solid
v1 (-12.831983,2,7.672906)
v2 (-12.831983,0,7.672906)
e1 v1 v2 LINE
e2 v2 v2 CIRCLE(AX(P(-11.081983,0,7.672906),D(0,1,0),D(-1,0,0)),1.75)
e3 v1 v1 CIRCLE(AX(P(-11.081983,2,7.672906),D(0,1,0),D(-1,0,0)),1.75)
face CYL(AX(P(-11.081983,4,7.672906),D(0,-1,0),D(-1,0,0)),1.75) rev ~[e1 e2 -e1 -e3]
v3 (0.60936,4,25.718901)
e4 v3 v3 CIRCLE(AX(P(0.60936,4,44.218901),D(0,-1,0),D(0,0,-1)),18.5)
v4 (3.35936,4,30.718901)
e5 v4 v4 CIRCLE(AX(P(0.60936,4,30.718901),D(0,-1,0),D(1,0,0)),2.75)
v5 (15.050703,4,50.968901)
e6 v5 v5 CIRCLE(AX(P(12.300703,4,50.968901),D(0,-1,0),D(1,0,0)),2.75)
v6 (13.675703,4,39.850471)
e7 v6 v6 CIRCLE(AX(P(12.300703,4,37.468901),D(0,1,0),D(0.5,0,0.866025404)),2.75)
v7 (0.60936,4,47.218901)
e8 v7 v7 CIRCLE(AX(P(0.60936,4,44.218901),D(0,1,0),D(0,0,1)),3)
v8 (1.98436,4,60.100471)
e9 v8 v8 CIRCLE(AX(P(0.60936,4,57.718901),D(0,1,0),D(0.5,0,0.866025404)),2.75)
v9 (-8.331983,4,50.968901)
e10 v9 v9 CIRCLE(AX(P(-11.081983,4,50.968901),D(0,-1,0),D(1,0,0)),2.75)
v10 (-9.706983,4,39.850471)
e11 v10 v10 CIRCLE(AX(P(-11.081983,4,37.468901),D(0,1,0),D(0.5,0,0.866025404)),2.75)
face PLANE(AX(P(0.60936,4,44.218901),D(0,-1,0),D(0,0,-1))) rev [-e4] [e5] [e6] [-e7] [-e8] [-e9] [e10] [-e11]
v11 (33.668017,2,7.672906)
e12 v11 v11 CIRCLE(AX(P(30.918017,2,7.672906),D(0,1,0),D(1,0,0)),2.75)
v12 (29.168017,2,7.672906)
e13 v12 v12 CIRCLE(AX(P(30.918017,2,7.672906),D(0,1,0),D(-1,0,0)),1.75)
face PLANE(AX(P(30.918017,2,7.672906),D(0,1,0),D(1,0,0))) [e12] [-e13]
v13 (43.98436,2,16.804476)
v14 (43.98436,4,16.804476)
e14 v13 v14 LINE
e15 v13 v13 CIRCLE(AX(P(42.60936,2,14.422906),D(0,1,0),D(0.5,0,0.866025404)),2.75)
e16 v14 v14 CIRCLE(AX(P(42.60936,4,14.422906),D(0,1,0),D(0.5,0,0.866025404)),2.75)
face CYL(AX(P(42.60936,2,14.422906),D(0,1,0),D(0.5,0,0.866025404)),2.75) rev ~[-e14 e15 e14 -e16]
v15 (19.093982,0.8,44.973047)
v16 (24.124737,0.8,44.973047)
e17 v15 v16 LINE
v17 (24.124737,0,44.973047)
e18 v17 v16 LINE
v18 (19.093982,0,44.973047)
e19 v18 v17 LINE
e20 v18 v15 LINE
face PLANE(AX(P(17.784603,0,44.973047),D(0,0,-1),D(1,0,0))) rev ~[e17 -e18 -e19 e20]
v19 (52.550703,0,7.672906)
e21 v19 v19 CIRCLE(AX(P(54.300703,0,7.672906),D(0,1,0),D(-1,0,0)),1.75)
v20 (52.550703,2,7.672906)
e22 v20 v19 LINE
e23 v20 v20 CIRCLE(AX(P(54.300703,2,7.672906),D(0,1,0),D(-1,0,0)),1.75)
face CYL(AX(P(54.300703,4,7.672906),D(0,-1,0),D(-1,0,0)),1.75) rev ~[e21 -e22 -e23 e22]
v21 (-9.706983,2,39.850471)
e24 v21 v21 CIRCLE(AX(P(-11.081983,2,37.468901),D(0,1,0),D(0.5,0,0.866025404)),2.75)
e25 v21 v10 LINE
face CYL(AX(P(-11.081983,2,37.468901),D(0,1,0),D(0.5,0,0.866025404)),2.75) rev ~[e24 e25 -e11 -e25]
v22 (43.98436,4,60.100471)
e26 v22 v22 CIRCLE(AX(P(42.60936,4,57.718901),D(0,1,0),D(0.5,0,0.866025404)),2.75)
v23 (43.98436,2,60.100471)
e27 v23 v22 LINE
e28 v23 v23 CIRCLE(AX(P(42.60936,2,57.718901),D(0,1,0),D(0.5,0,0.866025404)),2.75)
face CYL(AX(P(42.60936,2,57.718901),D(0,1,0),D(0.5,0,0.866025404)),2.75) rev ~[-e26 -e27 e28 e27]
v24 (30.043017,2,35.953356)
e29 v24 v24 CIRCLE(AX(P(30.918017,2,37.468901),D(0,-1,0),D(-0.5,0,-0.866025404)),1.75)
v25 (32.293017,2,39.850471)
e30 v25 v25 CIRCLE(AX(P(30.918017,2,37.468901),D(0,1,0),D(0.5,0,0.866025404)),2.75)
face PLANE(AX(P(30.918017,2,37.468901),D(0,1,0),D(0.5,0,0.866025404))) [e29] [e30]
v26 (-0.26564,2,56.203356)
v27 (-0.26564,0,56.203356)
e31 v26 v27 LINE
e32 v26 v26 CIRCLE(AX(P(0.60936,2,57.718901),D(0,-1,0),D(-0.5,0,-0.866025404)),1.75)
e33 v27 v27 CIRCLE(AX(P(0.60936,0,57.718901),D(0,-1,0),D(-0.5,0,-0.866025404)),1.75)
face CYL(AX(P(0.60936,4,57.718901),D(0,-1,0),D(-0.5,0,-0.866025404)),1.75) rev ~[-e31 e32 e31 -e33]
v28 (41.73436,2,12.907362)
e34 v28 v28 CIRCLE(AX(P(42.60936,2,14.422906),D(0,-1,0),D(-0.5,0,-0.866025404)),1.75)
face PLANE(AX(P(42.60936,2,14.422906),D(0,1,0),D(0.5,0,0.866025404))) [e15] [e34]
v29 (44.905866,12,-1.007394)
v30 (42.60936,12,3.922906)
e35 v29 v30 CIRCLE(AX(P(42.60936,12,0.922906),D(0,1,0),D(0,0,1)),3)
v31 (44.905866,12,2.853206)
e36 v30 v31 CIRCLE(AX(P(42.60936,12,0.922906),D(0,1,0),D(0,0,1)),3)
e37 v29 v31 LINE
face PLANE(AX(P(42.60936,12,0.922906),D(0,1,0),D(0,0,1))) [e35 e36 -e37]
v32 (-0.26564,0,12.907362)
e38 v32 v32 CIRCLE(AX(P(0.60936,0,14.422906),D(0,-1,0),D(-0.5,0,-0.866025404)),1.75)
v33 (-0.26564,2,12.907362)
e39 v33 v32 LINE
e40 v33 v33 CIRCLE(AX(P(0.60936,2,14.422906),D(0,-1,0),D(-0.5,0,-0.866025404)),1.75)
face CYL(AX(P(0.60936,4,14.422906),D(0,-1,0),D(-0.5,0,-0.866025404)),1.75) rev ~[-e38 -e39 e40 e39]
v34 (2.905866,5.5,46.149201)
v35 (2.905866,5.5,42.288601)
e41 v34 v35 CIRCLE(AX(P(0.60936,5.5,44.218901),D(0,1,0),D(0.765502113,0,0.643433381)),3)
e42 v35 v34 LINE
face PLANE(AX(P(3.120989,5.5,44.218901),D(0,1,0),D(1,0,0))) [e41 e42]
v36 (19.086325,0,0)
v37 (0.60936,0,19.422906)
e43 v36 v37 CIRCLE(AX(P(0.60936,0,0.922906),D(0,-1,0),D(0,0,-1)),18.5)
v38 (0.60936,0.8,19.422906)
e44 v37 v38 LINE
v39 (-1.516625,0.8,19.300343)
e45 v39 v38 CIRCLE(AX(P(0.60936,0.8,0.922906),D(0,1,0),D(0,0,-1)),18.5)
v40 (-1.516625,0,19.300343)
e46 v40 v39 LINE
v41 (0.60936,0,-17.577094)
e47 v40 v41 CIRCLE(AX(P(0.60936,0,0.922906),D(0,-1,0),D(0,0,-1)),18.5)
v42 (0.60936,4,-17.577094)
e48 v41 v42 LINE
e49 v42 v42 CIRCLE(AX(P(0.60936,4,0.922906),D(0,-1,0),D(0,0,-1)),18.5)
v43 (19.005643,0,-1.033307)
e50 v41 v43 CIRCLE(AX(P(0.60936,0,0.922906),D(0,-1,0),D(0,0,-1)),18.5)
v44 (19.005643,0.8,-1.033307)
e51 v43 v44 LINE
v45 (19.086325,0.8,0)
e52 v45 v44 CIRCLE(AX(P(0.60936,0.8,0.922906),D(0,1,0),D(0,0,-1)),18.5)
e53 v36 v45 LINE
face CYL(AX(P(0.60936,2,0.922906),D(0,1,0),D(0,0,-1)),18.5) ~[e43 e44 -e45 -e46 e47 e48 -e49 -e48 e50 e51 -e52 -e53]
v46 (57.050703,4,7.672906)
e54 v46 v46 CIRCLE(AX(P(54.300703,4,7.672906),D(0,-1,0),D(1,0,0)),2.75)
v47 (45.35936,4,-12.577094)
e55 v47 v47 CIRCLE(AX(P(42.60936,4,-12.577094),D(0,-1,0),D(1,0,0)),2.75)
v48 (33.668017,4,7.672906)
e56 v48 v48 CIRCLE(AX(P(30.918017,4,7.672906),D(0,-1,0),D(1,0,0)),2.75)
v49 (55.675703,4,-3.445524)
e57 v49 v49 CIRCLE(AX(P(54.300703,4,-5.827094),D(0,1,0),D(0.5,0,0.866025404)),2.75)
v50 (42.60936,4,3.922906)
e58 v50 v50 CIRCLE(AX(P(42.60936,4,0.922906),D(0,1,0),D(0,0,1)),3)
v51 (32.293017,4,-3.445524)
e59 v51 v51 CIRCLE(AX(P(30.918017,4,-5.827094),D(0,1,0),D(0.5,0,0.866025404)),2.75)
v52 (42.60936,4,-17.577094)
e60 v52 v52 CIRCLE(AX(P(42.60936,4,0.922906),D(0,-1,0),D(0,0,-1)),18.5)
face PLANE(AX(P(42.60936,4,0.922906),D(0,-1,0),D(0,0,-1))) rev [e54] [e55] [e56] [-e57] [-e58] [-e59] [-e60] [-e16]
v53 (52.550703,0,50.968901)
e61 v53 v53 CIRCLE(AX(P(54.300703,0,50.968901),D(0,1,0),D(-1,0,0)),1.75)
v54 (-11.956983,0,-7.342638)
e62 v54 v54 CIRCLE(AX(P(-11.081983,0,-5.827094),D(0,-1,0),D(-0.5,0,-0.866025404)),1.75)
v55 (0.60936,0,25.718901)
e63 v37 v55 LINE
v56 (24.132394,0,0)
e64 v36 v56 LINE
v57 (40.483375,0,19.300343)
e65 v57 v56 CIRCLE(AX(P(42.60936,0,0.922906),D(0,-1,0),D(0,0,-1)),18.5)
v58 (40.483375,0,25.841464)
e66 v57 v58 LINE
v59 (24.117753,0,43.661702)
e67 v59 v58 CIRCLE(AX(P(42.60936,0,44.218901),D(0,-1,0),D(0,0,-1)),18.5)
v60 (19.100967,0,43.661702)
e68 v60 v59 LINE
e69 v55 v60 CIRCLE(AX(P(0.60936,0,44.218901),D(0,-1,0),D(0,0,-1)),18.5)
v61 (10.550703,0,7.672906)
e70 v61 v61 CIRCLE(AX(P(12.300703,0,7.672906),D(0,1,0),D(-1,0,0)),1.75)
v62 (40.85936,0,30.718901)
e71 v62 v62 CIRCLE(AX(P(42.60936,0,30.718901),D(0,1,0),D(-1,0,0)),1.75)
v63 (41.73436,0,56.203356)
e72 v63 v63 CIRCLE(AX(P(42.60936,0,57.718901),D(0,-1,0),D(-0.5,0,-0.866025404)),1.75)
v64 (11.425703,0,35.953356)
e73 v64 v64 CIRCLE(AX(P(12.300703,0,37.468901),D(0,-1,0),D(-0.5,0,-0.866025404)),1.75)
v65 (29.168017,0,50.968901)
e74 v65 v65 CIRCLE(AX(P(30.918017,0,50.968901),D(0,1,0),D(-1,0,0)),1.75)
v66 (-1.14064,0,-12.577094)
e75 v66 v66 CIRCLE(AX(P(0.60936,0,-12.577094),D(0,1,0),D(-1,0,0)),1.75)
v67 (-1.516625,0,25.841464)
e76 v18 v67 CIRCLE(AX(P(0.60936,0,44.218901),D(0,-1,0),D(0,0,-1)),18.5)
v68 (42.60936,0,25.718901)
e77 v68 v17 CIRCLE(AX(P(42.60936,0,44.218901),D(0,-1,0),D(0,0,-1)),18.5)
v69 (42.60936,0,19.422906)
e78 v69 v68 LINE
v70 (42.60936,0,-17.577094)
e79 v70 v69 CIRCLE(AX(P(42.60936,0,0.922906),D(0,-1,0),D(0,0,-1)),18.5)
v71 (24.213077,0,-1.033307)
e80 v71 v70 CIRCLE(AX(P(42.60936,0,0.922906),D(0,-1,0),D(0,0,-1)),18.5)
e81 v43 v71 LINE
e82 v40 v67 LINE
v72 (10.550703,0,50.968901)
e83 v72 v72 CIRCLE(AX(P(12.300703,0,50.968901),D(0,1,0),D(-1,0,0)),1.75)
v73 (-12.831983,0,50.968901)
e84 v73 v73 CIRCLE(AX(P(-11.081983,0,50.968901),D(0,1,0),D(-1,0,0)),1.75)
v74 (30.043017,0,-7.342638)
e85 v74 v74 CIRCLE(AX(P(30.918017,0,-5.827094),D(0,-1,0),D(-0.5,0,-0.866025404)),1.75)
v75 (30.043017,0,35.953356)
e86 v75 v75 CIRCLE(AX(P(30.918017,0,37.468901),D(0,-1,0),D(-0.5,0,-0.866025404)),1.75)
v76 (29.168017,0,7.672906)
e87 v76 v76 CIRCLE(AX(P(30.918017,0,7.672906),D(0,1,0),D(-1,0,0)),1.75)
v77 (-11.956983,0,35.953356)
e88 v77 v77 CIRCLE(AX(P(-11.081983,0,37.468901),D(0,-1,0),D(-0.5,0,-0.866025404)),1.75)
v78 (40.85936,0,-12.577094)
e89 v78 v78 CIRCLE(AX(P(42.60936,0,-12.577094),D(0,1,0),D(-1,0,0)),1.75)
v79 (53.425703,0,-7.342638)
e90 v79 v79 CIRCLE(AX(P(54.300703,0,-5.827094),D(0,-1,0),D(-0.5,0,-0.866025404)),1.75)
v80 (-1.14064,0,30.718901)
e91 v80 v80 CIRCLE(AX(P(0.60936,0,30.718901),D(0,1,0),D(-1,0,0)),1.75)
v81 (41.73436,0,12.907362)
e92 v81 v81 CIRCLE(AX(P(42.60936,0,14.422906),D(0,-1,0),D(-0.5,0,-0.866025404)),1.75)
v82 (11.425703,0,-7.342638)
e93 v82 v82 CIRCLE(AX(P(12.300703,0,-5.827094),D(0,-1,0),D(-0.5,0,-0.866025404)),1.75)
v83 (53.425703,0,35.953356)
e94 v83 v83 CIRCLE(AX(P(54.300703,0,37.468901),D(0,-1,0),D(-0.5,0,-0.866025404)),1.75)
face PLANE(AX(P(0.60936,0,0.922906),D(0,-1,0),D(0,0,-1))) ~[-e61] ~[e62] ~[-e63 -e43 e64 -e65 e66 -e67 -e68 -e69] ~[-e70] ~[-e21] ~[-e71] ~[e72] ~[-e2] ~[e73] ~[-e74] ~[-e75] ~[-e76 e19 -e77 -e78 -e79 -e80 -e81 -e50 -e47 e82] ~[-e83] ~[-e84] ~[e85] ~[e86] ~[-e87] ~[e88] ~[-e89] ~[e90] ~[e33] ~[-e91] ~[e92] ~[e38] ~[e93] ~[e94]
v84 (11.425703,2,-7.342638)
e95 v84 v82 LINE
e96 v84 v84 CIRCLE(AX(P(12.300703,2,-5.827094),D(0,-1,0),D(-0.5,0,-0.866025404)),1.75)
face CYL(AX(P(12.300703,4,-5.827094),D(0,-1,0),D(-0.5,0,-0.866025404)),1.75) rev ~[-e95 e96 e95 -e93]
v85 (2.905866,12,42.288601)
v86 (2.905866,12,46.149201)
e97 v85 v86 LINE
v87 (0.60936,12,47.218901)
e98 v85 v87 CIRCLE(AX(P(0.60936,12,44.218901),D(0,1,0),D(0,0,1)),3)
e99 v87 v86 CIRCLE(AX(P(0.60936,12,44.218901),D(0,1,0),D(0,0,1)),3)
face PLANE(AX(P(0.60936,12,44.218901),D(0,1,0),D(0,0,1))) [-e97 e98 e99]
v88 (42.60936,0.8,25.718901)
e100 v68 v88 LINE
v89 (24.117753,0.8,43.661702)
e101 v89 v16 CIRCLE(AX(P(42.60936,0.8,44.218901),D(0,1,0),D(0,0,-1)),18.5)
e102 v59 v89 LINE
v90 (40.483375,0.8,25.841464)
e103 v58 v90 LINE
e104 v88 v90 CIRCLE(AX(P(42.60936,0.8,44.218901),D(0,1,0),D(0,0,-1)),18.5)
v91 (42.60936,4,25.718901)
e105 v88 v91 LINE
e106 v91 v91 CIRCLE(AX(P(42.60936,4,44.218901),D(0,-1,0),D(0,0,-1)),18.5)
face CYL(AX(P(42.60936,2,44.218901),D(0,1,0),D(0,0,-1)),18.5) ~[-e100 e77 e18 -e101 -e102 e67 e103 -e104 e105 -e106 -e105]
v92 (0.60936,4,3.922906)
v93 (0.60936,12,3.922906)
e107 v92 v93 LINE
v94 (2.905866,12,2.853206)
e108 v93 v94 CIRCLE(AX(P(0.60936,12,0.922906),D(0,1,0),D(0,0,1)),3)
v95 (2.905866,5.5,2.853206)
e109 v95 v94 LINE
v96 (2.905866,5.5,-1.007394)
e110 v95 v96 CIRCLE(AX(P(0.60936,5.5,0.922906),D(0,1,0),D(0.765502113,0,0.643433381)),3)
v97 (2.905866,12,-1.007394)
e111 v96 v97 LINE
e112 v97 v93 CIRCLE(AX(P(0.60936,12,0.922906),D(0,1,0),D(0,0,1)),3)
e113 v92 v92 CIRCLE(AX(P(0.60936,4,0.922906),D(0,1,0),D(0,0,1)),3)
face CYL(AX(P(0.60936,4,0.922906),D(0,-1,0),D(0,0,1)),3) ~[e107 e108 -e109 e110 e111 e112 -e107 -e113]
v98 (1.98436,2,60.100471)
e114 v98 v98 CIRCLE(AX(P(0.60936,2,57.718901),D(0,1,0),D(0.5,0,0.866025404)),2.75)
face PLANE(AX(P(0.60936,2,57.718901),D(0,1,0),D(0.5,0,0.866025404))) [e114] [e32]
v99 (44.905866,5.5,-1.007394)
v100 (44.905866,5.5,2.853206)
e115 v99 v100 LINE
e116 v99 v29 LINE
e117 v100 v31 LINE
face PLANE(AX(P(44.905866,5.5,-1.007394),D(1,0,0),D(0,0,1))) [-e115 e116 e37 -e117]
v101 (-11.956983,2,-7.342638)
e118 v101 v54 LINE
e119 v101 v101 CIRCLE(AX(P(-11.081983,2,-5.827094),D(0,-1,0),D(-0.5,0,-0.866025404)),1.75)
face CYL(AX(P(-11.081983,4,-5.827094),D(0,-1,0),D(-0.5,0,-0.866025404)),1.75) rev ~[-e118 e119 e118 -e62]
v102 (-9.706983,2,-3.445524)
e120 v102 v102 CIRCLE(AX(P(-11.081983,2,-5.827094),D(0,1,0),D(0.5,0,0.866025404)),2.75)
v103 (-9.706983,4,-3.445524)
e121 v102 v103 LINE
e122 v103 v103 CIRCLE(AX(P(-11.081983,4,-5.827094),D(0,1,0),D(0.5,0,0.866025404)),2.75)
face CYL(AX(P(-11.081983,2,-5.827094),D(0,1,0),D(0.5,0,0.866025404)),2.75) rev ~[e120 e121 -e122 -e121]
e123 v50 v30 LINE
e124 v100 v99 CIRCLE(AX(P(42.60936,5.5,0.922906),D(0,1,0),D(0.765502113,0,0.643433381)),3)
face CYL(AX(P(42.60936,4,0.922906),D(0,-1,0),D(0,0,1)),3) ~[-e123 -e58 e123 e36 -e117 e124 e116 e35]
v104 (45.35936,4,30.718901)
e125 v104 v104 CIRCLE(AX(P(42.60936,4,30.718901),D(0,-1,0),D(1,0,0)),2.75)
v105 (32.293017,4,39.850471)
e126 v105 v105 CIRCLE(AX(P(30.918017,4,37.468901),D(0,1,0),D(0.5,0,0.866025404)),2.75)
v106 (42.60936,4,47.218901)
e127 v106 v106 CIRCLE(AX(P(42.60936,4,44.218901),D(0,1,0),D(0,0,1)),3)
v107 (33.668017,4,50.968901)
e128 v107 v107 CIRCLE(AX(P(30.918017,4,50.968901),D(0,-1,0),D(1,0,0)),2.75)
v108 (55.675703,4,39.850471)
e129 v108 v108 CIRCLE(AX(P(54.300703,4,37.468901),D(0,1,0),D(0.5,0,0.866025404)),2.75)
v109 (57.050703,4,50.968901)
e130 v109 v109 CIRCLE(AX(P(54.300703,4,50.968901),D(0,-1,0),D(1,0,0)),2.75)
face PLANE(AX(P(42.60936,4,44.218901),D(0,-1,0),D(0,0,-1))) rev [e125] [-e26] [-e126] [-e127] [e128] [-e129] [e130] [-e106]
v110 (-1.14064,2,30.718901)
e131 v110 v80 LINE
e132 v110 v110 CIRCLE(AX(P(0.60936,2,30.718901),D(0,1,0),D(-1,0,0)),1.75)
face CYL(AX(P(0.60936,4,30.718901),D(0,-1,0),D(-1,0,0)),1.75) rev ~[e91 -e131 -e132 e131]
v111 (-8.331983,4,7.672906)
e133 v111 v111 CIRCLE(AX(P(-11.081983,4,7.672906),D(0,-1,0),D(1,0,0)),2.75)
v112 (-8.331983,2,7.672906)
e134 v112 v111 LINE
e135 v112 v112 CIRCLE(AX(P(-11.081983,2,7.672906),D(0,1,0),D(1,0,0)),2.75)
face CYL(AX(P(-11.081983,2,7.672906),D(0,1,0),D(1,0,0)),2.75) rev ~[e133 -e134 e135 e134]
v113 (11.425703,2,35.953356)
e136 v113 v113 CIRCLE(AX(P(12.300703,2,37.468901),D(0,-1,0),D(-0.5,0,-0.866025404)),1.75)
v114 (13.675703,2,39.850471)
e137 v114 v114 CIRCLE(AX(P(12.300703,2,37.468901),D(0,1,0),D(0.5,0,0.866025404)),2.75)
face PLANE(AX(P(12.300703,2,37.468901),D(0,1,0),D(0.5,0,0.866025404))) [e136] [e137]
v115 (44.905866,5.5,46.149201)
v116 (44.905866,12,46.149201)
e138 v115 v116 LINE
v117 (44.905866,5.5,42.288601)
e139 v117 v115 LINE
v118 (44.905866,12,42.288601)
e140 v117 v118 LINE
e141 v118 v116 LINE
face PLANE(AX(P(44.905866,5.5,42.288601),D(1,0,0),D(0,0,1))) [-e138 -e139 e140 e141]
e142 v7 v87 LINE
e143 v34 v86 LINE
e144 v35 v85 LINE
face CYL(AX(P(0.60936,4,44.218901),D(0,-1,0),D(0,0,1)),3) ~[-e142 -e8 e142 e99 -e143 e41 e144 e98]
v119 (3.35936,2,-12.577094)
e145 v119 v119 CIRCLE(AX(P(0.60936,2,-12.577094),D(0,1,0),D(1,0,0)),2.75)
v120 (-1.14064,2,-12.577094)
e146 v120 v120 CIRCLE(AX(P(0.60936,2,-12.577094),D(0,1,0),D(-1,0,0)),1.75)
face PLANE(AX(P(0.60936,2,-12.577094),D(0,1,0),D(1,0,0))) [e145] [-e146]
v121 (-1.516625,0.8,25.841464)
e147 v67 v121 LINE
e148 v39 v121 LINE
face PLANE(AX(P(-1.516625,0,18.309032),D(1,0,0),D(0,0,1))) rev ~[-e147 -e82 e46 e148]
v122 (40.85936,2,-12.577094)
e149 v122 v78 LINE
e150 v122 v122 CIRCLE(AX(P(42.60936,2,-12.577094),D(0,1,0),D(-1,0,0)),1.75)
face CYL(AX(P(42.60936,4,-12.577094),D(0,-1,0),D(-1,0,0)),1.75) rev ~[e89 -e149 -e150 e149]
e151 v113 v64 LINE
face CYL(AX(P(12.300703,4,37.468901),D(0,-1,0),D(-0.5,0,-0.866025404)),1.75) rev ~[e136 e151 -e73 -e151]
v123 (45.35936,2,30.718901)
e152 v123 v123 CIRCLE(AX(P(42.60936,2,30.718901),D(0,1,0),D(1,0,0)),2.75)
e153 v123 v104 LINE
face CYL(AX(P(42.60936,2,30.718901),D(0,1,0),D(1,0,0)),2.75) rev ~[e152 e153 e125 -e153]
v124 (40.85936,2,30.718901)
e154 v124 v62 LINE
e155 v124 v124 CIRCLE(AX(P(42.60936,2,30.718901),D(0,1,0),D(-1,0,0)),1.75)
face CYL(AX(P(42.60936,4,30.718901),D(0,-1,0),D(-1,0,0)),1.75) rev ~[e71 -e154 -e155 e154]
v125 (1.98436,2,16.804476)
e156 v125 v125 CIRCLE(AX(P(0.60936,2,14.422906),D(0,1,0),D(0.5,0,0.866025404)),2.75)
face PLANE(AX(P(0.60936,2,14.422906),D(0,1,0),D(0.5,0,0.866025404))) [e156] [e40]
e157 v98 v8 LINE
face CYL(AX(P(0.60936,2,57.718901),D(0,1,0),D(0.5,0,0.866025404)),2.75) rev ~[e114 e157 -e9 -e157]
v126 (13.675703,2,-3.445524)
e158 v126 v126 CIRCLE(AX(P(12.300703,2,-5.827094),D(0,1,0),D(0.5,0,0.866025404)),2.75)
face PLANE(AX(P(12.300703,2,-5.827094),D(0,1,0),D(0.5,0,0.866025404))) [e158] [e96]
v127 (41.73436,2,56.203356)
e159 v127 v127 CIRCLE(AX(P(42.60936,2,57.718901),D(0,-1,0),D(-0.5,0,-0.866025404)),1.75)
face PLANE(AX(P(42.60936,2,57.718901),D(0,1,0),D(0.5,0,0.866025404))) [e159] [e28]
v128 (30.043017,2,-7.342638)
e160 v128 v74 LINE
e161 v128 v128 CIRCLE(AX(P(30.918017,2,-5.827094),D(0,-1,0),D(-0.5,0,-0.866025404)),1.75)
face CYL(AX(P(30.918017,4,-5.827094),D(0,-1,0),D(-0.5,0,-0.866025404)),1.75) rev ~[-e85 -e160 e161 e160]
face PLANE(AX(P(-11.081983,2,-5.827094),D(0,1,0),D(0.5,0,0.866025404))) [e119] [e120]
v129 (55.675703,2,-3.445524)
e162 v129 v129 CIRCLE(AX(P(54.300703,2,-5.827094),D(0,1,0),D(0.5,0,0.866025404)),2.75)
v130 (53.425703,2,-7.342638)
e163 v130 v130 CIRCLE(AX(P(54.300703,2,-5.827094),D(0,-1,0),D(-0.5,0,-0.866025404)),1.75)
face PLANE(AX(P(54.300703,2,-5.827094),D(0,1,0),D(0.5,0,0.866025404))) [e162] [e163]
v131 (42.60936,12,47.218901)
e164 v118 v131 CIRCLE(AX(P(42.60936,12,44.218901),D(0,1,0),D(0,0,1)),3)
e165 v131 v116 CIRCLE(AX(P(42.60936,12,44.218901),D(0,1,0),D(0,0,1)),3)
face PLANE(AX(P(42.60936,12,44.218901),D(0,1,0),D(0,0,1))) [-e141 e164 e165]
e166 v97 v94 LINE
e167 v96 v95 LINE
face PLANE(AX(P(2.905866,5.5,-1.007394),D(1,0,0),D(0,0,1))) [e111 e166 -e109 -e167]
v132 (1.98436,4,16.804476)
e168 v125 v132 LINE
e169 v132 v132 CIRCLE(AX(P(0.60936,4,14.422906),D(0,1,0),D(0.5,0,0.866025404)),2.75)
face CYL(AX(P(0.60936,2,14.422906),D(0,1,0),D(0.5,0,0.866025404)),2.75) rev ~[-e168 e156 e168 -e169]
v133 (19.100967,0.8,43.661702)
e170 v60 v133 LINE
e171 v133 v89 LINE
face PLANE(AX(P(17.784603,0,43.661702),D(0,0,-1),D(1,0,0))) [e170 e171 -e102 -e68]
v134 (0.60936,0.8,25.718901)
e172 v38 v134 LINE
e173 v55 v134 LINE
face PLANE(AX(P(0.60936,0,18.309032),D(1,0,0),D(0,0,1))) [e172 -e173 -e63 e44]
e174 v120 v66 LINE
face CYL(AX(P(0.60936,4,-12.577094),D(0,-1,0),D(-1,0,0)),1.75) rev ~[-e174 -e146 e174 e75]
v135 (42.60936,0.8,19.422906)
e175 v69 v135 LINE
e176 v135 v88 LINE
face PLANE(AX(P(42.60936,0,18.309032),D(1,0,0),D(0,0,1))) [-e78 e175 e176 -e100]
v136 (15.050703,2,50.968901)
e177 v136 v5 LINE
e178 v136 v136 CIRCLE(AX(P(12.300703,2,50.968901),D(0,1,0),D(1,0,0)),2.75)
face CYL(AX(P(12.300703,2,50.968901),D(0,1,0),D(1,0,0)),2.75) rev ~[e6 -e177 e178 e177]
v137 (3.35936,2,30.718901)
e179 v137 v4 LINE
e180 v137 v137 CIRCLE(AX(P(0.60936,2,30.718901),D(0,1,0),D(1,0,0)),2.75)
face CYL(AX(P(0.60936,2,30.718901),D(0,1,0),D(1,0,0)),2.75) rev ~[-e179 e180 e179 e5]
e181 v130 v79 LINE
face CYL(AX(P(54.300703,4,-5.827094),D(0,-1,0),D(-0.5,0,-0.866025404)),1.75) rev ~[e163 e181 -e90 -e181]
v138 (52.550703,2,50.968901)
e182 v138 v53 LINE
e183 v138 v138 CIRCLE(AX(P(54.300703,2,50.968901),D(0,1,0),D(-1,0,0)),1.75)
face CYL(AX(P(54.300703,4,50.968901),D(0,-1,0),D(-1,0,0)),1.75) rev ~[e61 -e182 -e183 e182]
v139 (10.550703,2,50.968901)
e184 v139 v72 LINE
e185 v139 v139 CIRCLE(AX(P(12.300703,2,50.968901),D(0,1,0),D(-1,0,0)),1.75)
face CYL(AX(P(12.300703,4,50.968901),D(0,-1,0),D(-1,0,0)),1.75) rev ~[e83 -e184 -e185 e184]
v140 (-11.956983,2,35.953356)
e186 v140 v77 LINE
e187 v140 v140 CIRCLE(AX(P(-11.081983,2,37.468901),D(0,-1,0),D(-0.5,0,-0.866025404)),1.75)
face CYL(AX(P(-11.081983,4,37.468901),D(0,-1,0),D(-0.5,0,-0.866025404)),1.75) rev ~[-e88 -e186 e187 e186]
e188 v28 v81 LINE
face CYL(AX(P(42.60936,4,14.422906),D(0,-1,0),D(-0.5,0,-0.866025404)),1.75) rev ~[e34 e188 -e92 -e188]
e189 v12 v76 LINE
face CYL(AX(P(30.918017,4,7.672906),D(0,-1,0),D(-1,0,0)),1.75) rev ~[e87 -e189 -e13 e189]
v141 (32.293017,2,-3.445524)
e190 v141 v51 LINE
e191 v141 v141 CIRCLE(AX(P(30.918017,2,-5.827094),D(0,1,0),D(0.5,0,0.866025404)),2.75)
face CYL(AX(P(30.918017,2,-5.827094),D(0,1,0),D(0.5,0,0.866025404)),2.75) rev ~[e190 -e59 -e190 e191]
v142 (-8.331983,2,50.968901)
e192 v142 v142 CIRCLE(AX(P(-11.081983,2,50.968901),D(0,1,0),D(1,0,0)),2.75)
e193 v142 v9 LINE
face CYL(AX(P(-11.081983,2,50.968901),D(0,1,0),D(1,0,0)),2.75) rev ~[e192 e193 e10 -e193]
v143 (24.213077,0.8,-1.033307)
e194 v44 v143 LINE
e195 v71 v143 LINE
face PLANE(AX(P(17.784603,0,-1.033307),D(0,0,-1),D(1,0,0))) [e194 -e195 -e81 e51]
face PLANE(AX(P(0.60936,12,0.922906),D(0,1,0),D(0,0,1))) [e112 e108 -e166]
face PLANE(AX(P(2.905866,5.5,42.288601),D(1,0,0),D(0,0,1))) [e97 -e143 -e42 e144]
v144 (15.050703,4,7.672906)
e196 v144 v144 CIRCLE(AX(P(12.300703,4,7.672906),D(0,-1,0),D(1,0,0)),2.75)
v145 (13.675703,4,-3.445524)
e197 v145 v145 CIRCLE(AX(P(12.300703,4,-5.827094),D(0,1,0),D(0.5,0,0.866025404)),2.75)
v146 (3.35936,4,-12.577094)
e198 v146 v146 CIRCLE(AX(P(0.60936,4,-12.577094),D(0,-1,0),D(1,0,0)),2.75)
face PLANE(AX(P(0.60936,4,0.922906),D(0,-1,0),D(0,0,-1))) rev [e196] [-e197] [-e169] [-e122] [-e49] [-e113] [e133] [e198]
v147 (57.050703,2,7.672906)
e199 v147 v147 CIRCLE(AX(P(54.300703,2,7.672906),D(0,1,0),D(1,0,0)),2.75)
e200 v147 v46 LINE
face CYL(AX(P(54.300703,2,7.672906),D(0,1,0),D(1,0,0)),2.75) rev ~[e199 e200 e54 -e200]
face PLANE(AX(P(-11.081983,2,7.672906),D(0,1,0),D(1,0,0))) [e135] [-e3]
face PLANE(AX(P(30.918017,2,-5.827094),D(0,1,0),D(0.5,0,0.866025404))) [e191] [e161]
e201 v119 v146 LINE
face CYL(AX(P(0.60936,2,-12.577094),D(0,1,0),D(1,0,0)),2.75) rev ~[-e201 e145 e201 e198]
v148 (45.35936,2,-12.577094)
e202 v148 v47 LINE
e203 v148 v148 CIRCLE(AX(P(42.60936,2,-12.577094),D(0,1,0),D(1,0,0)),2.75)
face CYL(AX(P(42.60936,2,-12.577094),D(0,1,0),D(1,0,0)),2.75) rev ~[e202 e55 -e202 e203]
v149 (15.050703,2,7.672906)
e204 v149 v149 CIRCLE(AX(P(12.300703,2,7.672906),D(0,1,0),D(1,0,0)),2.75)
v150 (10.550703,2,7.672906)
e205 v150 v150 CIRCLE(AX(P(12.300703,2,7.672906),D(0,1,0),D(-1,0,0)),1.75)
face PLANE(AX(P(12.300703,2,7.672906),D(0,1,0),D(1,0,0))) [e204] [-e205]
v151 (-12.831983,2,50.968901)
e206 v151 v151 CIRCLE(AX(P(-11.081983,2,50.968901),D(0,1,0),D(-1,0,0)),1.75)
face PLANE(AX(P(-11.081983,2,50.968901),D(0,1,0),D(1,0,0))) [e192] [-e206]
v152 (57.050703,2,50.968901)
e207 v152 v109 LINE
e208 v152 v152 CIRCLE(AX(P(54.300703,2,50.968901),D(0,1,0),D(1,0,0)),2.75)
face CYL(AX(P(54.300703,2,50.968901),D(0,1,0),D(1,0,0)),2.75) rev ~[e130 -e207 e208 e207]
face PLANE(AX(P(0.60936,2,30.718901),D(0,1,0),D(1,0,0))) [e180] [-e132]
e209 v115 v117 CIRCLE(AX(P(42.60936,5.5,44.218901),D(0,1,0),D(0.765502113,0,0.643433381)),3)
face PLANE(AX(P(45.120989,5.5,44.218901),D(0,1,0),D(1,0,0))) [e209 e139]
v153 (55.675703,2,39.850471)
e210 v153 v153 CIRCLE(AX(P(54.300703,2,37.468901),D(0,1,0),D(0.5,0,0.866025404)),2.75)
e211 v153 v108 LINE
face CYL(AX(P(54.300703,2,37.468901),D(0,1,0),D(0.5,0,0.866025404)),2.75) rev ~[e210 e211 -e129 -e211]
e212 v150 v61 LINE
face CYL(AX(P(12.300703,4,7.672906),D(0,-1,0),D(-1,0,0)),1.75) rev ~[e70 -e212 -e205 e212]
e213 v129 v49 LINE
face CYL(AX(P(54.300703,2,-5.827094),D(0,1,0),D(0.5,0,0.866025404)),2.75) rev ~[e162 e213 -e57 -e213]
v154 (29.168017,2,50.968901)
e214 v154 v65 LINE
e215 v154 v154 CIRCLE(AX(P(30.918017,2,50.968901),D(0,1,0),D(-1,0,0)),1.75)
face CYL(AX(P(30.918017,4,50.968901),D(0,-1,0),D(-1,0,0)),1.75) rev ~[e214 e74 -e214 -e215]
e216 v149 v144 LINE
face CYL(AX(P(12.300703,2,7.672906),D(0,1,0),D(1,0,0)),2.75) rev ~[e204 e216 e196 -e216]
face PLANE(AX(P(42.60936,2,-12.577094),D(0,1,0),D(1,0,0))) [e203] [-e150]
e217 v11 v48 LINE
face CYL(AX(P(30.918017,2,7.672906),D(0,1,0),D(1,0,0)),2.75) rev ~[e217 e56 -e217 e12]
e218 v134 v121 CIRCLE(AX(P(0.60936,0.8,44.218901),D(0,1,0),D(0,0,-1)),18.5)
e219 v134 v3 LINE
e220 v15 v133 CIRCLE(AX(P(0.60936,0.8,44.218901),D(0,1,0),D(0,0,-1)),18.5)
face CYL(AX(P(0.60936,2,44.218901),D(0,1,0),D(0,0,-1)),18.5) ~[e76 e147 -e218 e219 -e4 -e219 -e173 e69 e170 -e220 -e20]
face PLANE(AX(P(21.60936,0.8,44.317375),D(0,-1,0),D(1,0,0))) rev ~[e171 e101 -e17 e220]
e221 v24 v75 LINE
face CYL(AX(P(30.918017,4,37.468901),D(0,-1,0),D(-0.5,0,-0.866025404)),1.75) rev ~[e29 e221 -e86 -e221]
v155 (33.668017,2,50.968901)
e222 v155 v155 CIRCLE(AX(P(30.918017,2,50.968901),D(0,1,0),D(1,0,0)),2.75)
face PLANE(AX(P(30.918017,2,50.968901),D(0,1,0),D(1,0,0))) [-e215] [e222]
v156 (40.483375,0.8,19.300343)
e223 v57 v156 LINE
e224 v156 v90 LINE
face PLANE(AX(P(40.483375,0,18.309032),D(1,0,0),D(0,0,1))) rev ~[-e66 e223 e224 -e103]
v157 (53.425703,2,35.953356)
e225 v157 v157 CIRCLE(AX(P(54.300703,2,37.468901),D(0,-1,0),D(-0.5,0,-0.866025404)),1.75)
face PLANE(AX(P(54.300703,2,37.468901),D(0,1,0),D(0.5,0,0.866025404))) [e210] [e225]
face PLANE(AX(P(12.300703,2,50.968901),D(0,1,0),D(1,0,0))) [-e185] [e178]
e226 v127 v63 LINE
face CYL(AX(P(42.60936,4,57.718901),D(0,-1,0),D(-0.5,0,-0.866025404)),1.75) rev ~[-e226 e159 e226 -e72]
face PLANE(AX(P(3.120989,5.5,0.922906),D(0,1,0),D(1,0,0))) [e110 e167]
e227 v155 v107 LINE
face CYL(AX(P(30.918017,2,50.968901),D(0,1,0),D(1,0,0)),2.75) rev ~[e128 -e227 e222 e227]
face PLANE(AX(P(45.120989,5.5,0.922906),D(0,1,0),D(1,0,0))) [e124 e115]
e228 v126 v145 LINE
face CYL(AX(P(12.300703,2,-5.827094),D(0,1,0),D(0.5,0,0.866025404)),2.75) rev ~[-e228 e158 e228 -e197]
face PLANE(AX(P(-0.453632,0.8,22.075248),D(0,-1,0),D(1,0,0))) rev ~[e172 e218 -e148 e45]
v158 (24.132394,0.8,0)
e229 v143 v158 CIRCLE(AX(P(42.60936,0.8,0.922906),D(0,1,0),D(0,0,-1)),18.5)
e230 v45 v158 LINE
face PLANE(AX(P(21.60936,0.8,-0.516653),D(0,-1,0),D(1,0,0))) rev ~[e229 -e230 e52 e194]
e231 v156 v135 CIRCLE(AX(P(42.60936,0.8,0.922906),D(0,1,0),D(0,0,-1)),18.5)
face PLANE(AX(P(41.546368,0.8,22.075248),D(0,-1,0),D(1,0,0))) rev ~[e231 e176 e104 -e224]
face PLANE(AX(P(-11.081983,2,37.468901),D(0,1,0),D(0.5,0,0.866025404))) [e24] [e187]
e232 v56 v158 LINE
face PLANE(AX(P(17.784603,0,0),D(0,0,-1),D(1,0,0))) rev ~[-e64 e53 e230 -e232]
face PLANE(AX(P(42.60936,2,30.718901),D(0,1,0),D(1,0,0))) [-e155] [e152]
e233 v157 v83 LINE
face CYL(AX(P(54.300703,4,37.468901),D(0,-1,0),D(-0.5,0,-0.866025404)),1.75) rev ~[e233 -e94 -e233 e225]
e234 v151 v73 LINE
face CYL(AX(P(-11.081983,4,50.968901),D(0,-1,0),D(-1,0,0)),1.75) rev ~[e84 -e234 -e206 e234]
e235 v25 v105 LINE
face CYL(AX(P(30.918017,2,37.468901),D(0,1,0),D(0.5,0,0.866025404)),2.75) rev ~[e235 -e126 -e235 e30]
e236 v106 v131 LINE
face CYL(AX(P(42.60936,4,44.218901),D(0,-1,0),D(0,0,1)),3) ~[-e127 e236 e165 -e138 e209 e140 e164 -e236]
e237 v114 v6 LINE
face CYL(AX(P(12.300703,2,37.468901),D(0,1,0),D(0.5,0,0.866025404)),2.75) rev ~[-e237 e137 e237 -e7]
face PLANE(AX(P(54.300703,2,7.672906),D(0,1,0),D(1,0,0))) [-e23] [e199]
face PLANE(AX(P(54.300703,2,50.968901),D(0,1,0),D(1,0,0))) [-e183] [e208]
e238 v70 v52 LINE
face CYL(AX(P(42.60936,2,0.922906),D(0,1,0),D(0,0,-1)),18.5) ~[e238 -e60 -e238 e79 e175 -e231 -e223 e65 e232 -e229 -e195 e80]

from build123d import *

# Parameters (mm, degrees)
SKETCH_1_W                   = 18.5
SKETCH_1_H                   = 4
HOLE_WIZARD_M3_1_D           = 3.5
HOLE_WIZARD_M3_1_CBORE_D     = 5.5
HOLE_WIZARD_M3_1_CBORE_DEPTH = 2
SKETCH_9_R                   = 4.078764036
EXTRUDE_2_DEPTH              = 4
SKETCH_10_R                  = 3
EXTRUDE_3_DEPTH              = 8
CUT_EXTRUDE_START            = -6.5
CUT_EXTRUDE_2_DEPTH          = 6.5
PATTERN_CIRCULAR_1_COUNT     = 3
PATTERN_CIRCULAR_1_ANGLE     = 120
SKETCH_13_W                  = 2.125984269
SKETCH_13_H                  = 7.532431529
EXTRUDE_4_DEPTH              = 0.8
SKETCH_14_W                  = 7.649512524
SKETCH_14_H                  = 1.311345004
SKETCH_14_H_2                = 1.033306543
EXTRUDE_5_DEPTH              = 0.8


with BuildPart() as part:
    # 草图1 → 旋转1 (revolve)
    with BuildSketch(Plane.XY.offset(0.922906258), mode=Mode.PRIVATE) as revolve_1_sk:
        with Locations((9.859359688, 2)):
            Rectangle(SKETCH_1_W, SKETCH_1_H)
    revolve(revolve_1_sk.sketch.rotate(Axis((0.609359688, 4, 0.922906258), (0, -1, 0)), 270), axis=Axis((0.609359688, 4, 0.922906258), (0, -1, 0)))

    # M3 六角头机械螺钉的柱形沉头孔1 (through all)
    with Locations(Plane(origin=(0, 4, 0), x_dir=(1, 0, 0), z_dir=(0, 1, 0))):
        with Locations((-11.081983263, -7.672906258), (12.300702639, -7.672906258), (0.609359688, 12.577093742)):
            hole_wizard_m3_1 = CounterBoreHole(HOLE_WIZARD_M3_1_D / 2, HOLE_WIZARD_M3_1_CBORE_D / 2, HOLE_WIZARD_M3_1_CBORE_DEPTH)

    # 草图9 → 凸台-拉伸2 (add)
    with BuildSketch(Plane.XZ):
        with Locations((0.609359688, 0.922906258)):
            Circle(SKETCH_9_R)
    extrude(amount=-EXTRUDE_2_DEPTH)

    # 草图10 → 凸台-拉伸3 (add)
    with BuildSketch(Plane(origin=(0, 4, 0), x_dir=(1, 0, 0), z_dir=(0, 1, 0))):
        with Locations(Location((0.609359688, -0.922906258, 0), (0, 0, 270))):
            Circle(SKETCH_10_R)
    extrude(amount=EXTRUDE_3_DEPTH)

    # 草图11 → 切除-拉伸2 (cut)
    with BuildSketch(Plane(origin=(0, 12, 0), x_dir=(1, 0, 0), z_dir=(0, 1, 0)).offset(CUT_EXTRUDE_START)):
        with BuildLine():
            Line((2.905866026, 1.007393885), (2.905866026, -2.853206401))
            ThreePointArc((2.905866026, -2.853206401), (3.609359688, -0.922906258), (2.905866026, 1.007393885))
        make_face()
    extrude(amount=CUT_EXTRUDE_2_DEPTH, mode=Mode.SUBTRACT)

    # 阵列(圆周)1: M3 六角头机械螺钉的柱形沉头孔1 ×3 about axis
    pattern_circular_1_axis = Axis((0.609359688, 0, 0.922906258), (0, -1, 0))
    for i in range(1, PATTERN_CIRCULAR_1_COUNT):
        add(hole_wizard_m3_1.rotate(pattern_circular_1_axis, i * PATTERN_CIRCULAR_1_ANGLE / (PATTERN_CIRCULAR_1_COUNT - 1)), mode=Mode.SUBTRACT)


with BuildPart() as body_2:
    # Move Body 3: copy of part
    add(part.part.moved(Location((0, 0, 43.295994543))))


with BuildPart() as part_1:
    add(part.part)

    add(body_2.part)  # 凸台-拉伸4 merges body 2
    # 草图13 → 凸台-拉伸4 (add)
    with BuildSketch(Plane.XZ):
        with Locations((-0.453632447, 22.075248032)):
            Rectangle(SKETCH_13_W, SKETCH_13_H)
    extrude(amount=-EXTRUDE_4_DEPTH)


with BuildPart() as body_2_2:
    # Move Body 4: copy of part
    add(part_1.part.moved(Location((42, 0, 0))))


with BuildPart() as part_2:
    add(part_1.part)

    add(body_2_2.part)  # 凸台-拉伸5 merges body 2 2
    # 草图14 → 凸台-拉伸5 (add)
    with BuildSketch(Plane.XZ):
        with Locations((21.609359688, 44.317374847)):
            Rectangle(SKETCH_14_W, SKETCH_14_H)
        with Locations((21.609359688, -0.516653272)):
            Rectangle(SKETCH_14_W, SKETCH_14_H_2)
    extrude(amount=-EXTRUDE_5_DEPTH)


solid = part_2.part
